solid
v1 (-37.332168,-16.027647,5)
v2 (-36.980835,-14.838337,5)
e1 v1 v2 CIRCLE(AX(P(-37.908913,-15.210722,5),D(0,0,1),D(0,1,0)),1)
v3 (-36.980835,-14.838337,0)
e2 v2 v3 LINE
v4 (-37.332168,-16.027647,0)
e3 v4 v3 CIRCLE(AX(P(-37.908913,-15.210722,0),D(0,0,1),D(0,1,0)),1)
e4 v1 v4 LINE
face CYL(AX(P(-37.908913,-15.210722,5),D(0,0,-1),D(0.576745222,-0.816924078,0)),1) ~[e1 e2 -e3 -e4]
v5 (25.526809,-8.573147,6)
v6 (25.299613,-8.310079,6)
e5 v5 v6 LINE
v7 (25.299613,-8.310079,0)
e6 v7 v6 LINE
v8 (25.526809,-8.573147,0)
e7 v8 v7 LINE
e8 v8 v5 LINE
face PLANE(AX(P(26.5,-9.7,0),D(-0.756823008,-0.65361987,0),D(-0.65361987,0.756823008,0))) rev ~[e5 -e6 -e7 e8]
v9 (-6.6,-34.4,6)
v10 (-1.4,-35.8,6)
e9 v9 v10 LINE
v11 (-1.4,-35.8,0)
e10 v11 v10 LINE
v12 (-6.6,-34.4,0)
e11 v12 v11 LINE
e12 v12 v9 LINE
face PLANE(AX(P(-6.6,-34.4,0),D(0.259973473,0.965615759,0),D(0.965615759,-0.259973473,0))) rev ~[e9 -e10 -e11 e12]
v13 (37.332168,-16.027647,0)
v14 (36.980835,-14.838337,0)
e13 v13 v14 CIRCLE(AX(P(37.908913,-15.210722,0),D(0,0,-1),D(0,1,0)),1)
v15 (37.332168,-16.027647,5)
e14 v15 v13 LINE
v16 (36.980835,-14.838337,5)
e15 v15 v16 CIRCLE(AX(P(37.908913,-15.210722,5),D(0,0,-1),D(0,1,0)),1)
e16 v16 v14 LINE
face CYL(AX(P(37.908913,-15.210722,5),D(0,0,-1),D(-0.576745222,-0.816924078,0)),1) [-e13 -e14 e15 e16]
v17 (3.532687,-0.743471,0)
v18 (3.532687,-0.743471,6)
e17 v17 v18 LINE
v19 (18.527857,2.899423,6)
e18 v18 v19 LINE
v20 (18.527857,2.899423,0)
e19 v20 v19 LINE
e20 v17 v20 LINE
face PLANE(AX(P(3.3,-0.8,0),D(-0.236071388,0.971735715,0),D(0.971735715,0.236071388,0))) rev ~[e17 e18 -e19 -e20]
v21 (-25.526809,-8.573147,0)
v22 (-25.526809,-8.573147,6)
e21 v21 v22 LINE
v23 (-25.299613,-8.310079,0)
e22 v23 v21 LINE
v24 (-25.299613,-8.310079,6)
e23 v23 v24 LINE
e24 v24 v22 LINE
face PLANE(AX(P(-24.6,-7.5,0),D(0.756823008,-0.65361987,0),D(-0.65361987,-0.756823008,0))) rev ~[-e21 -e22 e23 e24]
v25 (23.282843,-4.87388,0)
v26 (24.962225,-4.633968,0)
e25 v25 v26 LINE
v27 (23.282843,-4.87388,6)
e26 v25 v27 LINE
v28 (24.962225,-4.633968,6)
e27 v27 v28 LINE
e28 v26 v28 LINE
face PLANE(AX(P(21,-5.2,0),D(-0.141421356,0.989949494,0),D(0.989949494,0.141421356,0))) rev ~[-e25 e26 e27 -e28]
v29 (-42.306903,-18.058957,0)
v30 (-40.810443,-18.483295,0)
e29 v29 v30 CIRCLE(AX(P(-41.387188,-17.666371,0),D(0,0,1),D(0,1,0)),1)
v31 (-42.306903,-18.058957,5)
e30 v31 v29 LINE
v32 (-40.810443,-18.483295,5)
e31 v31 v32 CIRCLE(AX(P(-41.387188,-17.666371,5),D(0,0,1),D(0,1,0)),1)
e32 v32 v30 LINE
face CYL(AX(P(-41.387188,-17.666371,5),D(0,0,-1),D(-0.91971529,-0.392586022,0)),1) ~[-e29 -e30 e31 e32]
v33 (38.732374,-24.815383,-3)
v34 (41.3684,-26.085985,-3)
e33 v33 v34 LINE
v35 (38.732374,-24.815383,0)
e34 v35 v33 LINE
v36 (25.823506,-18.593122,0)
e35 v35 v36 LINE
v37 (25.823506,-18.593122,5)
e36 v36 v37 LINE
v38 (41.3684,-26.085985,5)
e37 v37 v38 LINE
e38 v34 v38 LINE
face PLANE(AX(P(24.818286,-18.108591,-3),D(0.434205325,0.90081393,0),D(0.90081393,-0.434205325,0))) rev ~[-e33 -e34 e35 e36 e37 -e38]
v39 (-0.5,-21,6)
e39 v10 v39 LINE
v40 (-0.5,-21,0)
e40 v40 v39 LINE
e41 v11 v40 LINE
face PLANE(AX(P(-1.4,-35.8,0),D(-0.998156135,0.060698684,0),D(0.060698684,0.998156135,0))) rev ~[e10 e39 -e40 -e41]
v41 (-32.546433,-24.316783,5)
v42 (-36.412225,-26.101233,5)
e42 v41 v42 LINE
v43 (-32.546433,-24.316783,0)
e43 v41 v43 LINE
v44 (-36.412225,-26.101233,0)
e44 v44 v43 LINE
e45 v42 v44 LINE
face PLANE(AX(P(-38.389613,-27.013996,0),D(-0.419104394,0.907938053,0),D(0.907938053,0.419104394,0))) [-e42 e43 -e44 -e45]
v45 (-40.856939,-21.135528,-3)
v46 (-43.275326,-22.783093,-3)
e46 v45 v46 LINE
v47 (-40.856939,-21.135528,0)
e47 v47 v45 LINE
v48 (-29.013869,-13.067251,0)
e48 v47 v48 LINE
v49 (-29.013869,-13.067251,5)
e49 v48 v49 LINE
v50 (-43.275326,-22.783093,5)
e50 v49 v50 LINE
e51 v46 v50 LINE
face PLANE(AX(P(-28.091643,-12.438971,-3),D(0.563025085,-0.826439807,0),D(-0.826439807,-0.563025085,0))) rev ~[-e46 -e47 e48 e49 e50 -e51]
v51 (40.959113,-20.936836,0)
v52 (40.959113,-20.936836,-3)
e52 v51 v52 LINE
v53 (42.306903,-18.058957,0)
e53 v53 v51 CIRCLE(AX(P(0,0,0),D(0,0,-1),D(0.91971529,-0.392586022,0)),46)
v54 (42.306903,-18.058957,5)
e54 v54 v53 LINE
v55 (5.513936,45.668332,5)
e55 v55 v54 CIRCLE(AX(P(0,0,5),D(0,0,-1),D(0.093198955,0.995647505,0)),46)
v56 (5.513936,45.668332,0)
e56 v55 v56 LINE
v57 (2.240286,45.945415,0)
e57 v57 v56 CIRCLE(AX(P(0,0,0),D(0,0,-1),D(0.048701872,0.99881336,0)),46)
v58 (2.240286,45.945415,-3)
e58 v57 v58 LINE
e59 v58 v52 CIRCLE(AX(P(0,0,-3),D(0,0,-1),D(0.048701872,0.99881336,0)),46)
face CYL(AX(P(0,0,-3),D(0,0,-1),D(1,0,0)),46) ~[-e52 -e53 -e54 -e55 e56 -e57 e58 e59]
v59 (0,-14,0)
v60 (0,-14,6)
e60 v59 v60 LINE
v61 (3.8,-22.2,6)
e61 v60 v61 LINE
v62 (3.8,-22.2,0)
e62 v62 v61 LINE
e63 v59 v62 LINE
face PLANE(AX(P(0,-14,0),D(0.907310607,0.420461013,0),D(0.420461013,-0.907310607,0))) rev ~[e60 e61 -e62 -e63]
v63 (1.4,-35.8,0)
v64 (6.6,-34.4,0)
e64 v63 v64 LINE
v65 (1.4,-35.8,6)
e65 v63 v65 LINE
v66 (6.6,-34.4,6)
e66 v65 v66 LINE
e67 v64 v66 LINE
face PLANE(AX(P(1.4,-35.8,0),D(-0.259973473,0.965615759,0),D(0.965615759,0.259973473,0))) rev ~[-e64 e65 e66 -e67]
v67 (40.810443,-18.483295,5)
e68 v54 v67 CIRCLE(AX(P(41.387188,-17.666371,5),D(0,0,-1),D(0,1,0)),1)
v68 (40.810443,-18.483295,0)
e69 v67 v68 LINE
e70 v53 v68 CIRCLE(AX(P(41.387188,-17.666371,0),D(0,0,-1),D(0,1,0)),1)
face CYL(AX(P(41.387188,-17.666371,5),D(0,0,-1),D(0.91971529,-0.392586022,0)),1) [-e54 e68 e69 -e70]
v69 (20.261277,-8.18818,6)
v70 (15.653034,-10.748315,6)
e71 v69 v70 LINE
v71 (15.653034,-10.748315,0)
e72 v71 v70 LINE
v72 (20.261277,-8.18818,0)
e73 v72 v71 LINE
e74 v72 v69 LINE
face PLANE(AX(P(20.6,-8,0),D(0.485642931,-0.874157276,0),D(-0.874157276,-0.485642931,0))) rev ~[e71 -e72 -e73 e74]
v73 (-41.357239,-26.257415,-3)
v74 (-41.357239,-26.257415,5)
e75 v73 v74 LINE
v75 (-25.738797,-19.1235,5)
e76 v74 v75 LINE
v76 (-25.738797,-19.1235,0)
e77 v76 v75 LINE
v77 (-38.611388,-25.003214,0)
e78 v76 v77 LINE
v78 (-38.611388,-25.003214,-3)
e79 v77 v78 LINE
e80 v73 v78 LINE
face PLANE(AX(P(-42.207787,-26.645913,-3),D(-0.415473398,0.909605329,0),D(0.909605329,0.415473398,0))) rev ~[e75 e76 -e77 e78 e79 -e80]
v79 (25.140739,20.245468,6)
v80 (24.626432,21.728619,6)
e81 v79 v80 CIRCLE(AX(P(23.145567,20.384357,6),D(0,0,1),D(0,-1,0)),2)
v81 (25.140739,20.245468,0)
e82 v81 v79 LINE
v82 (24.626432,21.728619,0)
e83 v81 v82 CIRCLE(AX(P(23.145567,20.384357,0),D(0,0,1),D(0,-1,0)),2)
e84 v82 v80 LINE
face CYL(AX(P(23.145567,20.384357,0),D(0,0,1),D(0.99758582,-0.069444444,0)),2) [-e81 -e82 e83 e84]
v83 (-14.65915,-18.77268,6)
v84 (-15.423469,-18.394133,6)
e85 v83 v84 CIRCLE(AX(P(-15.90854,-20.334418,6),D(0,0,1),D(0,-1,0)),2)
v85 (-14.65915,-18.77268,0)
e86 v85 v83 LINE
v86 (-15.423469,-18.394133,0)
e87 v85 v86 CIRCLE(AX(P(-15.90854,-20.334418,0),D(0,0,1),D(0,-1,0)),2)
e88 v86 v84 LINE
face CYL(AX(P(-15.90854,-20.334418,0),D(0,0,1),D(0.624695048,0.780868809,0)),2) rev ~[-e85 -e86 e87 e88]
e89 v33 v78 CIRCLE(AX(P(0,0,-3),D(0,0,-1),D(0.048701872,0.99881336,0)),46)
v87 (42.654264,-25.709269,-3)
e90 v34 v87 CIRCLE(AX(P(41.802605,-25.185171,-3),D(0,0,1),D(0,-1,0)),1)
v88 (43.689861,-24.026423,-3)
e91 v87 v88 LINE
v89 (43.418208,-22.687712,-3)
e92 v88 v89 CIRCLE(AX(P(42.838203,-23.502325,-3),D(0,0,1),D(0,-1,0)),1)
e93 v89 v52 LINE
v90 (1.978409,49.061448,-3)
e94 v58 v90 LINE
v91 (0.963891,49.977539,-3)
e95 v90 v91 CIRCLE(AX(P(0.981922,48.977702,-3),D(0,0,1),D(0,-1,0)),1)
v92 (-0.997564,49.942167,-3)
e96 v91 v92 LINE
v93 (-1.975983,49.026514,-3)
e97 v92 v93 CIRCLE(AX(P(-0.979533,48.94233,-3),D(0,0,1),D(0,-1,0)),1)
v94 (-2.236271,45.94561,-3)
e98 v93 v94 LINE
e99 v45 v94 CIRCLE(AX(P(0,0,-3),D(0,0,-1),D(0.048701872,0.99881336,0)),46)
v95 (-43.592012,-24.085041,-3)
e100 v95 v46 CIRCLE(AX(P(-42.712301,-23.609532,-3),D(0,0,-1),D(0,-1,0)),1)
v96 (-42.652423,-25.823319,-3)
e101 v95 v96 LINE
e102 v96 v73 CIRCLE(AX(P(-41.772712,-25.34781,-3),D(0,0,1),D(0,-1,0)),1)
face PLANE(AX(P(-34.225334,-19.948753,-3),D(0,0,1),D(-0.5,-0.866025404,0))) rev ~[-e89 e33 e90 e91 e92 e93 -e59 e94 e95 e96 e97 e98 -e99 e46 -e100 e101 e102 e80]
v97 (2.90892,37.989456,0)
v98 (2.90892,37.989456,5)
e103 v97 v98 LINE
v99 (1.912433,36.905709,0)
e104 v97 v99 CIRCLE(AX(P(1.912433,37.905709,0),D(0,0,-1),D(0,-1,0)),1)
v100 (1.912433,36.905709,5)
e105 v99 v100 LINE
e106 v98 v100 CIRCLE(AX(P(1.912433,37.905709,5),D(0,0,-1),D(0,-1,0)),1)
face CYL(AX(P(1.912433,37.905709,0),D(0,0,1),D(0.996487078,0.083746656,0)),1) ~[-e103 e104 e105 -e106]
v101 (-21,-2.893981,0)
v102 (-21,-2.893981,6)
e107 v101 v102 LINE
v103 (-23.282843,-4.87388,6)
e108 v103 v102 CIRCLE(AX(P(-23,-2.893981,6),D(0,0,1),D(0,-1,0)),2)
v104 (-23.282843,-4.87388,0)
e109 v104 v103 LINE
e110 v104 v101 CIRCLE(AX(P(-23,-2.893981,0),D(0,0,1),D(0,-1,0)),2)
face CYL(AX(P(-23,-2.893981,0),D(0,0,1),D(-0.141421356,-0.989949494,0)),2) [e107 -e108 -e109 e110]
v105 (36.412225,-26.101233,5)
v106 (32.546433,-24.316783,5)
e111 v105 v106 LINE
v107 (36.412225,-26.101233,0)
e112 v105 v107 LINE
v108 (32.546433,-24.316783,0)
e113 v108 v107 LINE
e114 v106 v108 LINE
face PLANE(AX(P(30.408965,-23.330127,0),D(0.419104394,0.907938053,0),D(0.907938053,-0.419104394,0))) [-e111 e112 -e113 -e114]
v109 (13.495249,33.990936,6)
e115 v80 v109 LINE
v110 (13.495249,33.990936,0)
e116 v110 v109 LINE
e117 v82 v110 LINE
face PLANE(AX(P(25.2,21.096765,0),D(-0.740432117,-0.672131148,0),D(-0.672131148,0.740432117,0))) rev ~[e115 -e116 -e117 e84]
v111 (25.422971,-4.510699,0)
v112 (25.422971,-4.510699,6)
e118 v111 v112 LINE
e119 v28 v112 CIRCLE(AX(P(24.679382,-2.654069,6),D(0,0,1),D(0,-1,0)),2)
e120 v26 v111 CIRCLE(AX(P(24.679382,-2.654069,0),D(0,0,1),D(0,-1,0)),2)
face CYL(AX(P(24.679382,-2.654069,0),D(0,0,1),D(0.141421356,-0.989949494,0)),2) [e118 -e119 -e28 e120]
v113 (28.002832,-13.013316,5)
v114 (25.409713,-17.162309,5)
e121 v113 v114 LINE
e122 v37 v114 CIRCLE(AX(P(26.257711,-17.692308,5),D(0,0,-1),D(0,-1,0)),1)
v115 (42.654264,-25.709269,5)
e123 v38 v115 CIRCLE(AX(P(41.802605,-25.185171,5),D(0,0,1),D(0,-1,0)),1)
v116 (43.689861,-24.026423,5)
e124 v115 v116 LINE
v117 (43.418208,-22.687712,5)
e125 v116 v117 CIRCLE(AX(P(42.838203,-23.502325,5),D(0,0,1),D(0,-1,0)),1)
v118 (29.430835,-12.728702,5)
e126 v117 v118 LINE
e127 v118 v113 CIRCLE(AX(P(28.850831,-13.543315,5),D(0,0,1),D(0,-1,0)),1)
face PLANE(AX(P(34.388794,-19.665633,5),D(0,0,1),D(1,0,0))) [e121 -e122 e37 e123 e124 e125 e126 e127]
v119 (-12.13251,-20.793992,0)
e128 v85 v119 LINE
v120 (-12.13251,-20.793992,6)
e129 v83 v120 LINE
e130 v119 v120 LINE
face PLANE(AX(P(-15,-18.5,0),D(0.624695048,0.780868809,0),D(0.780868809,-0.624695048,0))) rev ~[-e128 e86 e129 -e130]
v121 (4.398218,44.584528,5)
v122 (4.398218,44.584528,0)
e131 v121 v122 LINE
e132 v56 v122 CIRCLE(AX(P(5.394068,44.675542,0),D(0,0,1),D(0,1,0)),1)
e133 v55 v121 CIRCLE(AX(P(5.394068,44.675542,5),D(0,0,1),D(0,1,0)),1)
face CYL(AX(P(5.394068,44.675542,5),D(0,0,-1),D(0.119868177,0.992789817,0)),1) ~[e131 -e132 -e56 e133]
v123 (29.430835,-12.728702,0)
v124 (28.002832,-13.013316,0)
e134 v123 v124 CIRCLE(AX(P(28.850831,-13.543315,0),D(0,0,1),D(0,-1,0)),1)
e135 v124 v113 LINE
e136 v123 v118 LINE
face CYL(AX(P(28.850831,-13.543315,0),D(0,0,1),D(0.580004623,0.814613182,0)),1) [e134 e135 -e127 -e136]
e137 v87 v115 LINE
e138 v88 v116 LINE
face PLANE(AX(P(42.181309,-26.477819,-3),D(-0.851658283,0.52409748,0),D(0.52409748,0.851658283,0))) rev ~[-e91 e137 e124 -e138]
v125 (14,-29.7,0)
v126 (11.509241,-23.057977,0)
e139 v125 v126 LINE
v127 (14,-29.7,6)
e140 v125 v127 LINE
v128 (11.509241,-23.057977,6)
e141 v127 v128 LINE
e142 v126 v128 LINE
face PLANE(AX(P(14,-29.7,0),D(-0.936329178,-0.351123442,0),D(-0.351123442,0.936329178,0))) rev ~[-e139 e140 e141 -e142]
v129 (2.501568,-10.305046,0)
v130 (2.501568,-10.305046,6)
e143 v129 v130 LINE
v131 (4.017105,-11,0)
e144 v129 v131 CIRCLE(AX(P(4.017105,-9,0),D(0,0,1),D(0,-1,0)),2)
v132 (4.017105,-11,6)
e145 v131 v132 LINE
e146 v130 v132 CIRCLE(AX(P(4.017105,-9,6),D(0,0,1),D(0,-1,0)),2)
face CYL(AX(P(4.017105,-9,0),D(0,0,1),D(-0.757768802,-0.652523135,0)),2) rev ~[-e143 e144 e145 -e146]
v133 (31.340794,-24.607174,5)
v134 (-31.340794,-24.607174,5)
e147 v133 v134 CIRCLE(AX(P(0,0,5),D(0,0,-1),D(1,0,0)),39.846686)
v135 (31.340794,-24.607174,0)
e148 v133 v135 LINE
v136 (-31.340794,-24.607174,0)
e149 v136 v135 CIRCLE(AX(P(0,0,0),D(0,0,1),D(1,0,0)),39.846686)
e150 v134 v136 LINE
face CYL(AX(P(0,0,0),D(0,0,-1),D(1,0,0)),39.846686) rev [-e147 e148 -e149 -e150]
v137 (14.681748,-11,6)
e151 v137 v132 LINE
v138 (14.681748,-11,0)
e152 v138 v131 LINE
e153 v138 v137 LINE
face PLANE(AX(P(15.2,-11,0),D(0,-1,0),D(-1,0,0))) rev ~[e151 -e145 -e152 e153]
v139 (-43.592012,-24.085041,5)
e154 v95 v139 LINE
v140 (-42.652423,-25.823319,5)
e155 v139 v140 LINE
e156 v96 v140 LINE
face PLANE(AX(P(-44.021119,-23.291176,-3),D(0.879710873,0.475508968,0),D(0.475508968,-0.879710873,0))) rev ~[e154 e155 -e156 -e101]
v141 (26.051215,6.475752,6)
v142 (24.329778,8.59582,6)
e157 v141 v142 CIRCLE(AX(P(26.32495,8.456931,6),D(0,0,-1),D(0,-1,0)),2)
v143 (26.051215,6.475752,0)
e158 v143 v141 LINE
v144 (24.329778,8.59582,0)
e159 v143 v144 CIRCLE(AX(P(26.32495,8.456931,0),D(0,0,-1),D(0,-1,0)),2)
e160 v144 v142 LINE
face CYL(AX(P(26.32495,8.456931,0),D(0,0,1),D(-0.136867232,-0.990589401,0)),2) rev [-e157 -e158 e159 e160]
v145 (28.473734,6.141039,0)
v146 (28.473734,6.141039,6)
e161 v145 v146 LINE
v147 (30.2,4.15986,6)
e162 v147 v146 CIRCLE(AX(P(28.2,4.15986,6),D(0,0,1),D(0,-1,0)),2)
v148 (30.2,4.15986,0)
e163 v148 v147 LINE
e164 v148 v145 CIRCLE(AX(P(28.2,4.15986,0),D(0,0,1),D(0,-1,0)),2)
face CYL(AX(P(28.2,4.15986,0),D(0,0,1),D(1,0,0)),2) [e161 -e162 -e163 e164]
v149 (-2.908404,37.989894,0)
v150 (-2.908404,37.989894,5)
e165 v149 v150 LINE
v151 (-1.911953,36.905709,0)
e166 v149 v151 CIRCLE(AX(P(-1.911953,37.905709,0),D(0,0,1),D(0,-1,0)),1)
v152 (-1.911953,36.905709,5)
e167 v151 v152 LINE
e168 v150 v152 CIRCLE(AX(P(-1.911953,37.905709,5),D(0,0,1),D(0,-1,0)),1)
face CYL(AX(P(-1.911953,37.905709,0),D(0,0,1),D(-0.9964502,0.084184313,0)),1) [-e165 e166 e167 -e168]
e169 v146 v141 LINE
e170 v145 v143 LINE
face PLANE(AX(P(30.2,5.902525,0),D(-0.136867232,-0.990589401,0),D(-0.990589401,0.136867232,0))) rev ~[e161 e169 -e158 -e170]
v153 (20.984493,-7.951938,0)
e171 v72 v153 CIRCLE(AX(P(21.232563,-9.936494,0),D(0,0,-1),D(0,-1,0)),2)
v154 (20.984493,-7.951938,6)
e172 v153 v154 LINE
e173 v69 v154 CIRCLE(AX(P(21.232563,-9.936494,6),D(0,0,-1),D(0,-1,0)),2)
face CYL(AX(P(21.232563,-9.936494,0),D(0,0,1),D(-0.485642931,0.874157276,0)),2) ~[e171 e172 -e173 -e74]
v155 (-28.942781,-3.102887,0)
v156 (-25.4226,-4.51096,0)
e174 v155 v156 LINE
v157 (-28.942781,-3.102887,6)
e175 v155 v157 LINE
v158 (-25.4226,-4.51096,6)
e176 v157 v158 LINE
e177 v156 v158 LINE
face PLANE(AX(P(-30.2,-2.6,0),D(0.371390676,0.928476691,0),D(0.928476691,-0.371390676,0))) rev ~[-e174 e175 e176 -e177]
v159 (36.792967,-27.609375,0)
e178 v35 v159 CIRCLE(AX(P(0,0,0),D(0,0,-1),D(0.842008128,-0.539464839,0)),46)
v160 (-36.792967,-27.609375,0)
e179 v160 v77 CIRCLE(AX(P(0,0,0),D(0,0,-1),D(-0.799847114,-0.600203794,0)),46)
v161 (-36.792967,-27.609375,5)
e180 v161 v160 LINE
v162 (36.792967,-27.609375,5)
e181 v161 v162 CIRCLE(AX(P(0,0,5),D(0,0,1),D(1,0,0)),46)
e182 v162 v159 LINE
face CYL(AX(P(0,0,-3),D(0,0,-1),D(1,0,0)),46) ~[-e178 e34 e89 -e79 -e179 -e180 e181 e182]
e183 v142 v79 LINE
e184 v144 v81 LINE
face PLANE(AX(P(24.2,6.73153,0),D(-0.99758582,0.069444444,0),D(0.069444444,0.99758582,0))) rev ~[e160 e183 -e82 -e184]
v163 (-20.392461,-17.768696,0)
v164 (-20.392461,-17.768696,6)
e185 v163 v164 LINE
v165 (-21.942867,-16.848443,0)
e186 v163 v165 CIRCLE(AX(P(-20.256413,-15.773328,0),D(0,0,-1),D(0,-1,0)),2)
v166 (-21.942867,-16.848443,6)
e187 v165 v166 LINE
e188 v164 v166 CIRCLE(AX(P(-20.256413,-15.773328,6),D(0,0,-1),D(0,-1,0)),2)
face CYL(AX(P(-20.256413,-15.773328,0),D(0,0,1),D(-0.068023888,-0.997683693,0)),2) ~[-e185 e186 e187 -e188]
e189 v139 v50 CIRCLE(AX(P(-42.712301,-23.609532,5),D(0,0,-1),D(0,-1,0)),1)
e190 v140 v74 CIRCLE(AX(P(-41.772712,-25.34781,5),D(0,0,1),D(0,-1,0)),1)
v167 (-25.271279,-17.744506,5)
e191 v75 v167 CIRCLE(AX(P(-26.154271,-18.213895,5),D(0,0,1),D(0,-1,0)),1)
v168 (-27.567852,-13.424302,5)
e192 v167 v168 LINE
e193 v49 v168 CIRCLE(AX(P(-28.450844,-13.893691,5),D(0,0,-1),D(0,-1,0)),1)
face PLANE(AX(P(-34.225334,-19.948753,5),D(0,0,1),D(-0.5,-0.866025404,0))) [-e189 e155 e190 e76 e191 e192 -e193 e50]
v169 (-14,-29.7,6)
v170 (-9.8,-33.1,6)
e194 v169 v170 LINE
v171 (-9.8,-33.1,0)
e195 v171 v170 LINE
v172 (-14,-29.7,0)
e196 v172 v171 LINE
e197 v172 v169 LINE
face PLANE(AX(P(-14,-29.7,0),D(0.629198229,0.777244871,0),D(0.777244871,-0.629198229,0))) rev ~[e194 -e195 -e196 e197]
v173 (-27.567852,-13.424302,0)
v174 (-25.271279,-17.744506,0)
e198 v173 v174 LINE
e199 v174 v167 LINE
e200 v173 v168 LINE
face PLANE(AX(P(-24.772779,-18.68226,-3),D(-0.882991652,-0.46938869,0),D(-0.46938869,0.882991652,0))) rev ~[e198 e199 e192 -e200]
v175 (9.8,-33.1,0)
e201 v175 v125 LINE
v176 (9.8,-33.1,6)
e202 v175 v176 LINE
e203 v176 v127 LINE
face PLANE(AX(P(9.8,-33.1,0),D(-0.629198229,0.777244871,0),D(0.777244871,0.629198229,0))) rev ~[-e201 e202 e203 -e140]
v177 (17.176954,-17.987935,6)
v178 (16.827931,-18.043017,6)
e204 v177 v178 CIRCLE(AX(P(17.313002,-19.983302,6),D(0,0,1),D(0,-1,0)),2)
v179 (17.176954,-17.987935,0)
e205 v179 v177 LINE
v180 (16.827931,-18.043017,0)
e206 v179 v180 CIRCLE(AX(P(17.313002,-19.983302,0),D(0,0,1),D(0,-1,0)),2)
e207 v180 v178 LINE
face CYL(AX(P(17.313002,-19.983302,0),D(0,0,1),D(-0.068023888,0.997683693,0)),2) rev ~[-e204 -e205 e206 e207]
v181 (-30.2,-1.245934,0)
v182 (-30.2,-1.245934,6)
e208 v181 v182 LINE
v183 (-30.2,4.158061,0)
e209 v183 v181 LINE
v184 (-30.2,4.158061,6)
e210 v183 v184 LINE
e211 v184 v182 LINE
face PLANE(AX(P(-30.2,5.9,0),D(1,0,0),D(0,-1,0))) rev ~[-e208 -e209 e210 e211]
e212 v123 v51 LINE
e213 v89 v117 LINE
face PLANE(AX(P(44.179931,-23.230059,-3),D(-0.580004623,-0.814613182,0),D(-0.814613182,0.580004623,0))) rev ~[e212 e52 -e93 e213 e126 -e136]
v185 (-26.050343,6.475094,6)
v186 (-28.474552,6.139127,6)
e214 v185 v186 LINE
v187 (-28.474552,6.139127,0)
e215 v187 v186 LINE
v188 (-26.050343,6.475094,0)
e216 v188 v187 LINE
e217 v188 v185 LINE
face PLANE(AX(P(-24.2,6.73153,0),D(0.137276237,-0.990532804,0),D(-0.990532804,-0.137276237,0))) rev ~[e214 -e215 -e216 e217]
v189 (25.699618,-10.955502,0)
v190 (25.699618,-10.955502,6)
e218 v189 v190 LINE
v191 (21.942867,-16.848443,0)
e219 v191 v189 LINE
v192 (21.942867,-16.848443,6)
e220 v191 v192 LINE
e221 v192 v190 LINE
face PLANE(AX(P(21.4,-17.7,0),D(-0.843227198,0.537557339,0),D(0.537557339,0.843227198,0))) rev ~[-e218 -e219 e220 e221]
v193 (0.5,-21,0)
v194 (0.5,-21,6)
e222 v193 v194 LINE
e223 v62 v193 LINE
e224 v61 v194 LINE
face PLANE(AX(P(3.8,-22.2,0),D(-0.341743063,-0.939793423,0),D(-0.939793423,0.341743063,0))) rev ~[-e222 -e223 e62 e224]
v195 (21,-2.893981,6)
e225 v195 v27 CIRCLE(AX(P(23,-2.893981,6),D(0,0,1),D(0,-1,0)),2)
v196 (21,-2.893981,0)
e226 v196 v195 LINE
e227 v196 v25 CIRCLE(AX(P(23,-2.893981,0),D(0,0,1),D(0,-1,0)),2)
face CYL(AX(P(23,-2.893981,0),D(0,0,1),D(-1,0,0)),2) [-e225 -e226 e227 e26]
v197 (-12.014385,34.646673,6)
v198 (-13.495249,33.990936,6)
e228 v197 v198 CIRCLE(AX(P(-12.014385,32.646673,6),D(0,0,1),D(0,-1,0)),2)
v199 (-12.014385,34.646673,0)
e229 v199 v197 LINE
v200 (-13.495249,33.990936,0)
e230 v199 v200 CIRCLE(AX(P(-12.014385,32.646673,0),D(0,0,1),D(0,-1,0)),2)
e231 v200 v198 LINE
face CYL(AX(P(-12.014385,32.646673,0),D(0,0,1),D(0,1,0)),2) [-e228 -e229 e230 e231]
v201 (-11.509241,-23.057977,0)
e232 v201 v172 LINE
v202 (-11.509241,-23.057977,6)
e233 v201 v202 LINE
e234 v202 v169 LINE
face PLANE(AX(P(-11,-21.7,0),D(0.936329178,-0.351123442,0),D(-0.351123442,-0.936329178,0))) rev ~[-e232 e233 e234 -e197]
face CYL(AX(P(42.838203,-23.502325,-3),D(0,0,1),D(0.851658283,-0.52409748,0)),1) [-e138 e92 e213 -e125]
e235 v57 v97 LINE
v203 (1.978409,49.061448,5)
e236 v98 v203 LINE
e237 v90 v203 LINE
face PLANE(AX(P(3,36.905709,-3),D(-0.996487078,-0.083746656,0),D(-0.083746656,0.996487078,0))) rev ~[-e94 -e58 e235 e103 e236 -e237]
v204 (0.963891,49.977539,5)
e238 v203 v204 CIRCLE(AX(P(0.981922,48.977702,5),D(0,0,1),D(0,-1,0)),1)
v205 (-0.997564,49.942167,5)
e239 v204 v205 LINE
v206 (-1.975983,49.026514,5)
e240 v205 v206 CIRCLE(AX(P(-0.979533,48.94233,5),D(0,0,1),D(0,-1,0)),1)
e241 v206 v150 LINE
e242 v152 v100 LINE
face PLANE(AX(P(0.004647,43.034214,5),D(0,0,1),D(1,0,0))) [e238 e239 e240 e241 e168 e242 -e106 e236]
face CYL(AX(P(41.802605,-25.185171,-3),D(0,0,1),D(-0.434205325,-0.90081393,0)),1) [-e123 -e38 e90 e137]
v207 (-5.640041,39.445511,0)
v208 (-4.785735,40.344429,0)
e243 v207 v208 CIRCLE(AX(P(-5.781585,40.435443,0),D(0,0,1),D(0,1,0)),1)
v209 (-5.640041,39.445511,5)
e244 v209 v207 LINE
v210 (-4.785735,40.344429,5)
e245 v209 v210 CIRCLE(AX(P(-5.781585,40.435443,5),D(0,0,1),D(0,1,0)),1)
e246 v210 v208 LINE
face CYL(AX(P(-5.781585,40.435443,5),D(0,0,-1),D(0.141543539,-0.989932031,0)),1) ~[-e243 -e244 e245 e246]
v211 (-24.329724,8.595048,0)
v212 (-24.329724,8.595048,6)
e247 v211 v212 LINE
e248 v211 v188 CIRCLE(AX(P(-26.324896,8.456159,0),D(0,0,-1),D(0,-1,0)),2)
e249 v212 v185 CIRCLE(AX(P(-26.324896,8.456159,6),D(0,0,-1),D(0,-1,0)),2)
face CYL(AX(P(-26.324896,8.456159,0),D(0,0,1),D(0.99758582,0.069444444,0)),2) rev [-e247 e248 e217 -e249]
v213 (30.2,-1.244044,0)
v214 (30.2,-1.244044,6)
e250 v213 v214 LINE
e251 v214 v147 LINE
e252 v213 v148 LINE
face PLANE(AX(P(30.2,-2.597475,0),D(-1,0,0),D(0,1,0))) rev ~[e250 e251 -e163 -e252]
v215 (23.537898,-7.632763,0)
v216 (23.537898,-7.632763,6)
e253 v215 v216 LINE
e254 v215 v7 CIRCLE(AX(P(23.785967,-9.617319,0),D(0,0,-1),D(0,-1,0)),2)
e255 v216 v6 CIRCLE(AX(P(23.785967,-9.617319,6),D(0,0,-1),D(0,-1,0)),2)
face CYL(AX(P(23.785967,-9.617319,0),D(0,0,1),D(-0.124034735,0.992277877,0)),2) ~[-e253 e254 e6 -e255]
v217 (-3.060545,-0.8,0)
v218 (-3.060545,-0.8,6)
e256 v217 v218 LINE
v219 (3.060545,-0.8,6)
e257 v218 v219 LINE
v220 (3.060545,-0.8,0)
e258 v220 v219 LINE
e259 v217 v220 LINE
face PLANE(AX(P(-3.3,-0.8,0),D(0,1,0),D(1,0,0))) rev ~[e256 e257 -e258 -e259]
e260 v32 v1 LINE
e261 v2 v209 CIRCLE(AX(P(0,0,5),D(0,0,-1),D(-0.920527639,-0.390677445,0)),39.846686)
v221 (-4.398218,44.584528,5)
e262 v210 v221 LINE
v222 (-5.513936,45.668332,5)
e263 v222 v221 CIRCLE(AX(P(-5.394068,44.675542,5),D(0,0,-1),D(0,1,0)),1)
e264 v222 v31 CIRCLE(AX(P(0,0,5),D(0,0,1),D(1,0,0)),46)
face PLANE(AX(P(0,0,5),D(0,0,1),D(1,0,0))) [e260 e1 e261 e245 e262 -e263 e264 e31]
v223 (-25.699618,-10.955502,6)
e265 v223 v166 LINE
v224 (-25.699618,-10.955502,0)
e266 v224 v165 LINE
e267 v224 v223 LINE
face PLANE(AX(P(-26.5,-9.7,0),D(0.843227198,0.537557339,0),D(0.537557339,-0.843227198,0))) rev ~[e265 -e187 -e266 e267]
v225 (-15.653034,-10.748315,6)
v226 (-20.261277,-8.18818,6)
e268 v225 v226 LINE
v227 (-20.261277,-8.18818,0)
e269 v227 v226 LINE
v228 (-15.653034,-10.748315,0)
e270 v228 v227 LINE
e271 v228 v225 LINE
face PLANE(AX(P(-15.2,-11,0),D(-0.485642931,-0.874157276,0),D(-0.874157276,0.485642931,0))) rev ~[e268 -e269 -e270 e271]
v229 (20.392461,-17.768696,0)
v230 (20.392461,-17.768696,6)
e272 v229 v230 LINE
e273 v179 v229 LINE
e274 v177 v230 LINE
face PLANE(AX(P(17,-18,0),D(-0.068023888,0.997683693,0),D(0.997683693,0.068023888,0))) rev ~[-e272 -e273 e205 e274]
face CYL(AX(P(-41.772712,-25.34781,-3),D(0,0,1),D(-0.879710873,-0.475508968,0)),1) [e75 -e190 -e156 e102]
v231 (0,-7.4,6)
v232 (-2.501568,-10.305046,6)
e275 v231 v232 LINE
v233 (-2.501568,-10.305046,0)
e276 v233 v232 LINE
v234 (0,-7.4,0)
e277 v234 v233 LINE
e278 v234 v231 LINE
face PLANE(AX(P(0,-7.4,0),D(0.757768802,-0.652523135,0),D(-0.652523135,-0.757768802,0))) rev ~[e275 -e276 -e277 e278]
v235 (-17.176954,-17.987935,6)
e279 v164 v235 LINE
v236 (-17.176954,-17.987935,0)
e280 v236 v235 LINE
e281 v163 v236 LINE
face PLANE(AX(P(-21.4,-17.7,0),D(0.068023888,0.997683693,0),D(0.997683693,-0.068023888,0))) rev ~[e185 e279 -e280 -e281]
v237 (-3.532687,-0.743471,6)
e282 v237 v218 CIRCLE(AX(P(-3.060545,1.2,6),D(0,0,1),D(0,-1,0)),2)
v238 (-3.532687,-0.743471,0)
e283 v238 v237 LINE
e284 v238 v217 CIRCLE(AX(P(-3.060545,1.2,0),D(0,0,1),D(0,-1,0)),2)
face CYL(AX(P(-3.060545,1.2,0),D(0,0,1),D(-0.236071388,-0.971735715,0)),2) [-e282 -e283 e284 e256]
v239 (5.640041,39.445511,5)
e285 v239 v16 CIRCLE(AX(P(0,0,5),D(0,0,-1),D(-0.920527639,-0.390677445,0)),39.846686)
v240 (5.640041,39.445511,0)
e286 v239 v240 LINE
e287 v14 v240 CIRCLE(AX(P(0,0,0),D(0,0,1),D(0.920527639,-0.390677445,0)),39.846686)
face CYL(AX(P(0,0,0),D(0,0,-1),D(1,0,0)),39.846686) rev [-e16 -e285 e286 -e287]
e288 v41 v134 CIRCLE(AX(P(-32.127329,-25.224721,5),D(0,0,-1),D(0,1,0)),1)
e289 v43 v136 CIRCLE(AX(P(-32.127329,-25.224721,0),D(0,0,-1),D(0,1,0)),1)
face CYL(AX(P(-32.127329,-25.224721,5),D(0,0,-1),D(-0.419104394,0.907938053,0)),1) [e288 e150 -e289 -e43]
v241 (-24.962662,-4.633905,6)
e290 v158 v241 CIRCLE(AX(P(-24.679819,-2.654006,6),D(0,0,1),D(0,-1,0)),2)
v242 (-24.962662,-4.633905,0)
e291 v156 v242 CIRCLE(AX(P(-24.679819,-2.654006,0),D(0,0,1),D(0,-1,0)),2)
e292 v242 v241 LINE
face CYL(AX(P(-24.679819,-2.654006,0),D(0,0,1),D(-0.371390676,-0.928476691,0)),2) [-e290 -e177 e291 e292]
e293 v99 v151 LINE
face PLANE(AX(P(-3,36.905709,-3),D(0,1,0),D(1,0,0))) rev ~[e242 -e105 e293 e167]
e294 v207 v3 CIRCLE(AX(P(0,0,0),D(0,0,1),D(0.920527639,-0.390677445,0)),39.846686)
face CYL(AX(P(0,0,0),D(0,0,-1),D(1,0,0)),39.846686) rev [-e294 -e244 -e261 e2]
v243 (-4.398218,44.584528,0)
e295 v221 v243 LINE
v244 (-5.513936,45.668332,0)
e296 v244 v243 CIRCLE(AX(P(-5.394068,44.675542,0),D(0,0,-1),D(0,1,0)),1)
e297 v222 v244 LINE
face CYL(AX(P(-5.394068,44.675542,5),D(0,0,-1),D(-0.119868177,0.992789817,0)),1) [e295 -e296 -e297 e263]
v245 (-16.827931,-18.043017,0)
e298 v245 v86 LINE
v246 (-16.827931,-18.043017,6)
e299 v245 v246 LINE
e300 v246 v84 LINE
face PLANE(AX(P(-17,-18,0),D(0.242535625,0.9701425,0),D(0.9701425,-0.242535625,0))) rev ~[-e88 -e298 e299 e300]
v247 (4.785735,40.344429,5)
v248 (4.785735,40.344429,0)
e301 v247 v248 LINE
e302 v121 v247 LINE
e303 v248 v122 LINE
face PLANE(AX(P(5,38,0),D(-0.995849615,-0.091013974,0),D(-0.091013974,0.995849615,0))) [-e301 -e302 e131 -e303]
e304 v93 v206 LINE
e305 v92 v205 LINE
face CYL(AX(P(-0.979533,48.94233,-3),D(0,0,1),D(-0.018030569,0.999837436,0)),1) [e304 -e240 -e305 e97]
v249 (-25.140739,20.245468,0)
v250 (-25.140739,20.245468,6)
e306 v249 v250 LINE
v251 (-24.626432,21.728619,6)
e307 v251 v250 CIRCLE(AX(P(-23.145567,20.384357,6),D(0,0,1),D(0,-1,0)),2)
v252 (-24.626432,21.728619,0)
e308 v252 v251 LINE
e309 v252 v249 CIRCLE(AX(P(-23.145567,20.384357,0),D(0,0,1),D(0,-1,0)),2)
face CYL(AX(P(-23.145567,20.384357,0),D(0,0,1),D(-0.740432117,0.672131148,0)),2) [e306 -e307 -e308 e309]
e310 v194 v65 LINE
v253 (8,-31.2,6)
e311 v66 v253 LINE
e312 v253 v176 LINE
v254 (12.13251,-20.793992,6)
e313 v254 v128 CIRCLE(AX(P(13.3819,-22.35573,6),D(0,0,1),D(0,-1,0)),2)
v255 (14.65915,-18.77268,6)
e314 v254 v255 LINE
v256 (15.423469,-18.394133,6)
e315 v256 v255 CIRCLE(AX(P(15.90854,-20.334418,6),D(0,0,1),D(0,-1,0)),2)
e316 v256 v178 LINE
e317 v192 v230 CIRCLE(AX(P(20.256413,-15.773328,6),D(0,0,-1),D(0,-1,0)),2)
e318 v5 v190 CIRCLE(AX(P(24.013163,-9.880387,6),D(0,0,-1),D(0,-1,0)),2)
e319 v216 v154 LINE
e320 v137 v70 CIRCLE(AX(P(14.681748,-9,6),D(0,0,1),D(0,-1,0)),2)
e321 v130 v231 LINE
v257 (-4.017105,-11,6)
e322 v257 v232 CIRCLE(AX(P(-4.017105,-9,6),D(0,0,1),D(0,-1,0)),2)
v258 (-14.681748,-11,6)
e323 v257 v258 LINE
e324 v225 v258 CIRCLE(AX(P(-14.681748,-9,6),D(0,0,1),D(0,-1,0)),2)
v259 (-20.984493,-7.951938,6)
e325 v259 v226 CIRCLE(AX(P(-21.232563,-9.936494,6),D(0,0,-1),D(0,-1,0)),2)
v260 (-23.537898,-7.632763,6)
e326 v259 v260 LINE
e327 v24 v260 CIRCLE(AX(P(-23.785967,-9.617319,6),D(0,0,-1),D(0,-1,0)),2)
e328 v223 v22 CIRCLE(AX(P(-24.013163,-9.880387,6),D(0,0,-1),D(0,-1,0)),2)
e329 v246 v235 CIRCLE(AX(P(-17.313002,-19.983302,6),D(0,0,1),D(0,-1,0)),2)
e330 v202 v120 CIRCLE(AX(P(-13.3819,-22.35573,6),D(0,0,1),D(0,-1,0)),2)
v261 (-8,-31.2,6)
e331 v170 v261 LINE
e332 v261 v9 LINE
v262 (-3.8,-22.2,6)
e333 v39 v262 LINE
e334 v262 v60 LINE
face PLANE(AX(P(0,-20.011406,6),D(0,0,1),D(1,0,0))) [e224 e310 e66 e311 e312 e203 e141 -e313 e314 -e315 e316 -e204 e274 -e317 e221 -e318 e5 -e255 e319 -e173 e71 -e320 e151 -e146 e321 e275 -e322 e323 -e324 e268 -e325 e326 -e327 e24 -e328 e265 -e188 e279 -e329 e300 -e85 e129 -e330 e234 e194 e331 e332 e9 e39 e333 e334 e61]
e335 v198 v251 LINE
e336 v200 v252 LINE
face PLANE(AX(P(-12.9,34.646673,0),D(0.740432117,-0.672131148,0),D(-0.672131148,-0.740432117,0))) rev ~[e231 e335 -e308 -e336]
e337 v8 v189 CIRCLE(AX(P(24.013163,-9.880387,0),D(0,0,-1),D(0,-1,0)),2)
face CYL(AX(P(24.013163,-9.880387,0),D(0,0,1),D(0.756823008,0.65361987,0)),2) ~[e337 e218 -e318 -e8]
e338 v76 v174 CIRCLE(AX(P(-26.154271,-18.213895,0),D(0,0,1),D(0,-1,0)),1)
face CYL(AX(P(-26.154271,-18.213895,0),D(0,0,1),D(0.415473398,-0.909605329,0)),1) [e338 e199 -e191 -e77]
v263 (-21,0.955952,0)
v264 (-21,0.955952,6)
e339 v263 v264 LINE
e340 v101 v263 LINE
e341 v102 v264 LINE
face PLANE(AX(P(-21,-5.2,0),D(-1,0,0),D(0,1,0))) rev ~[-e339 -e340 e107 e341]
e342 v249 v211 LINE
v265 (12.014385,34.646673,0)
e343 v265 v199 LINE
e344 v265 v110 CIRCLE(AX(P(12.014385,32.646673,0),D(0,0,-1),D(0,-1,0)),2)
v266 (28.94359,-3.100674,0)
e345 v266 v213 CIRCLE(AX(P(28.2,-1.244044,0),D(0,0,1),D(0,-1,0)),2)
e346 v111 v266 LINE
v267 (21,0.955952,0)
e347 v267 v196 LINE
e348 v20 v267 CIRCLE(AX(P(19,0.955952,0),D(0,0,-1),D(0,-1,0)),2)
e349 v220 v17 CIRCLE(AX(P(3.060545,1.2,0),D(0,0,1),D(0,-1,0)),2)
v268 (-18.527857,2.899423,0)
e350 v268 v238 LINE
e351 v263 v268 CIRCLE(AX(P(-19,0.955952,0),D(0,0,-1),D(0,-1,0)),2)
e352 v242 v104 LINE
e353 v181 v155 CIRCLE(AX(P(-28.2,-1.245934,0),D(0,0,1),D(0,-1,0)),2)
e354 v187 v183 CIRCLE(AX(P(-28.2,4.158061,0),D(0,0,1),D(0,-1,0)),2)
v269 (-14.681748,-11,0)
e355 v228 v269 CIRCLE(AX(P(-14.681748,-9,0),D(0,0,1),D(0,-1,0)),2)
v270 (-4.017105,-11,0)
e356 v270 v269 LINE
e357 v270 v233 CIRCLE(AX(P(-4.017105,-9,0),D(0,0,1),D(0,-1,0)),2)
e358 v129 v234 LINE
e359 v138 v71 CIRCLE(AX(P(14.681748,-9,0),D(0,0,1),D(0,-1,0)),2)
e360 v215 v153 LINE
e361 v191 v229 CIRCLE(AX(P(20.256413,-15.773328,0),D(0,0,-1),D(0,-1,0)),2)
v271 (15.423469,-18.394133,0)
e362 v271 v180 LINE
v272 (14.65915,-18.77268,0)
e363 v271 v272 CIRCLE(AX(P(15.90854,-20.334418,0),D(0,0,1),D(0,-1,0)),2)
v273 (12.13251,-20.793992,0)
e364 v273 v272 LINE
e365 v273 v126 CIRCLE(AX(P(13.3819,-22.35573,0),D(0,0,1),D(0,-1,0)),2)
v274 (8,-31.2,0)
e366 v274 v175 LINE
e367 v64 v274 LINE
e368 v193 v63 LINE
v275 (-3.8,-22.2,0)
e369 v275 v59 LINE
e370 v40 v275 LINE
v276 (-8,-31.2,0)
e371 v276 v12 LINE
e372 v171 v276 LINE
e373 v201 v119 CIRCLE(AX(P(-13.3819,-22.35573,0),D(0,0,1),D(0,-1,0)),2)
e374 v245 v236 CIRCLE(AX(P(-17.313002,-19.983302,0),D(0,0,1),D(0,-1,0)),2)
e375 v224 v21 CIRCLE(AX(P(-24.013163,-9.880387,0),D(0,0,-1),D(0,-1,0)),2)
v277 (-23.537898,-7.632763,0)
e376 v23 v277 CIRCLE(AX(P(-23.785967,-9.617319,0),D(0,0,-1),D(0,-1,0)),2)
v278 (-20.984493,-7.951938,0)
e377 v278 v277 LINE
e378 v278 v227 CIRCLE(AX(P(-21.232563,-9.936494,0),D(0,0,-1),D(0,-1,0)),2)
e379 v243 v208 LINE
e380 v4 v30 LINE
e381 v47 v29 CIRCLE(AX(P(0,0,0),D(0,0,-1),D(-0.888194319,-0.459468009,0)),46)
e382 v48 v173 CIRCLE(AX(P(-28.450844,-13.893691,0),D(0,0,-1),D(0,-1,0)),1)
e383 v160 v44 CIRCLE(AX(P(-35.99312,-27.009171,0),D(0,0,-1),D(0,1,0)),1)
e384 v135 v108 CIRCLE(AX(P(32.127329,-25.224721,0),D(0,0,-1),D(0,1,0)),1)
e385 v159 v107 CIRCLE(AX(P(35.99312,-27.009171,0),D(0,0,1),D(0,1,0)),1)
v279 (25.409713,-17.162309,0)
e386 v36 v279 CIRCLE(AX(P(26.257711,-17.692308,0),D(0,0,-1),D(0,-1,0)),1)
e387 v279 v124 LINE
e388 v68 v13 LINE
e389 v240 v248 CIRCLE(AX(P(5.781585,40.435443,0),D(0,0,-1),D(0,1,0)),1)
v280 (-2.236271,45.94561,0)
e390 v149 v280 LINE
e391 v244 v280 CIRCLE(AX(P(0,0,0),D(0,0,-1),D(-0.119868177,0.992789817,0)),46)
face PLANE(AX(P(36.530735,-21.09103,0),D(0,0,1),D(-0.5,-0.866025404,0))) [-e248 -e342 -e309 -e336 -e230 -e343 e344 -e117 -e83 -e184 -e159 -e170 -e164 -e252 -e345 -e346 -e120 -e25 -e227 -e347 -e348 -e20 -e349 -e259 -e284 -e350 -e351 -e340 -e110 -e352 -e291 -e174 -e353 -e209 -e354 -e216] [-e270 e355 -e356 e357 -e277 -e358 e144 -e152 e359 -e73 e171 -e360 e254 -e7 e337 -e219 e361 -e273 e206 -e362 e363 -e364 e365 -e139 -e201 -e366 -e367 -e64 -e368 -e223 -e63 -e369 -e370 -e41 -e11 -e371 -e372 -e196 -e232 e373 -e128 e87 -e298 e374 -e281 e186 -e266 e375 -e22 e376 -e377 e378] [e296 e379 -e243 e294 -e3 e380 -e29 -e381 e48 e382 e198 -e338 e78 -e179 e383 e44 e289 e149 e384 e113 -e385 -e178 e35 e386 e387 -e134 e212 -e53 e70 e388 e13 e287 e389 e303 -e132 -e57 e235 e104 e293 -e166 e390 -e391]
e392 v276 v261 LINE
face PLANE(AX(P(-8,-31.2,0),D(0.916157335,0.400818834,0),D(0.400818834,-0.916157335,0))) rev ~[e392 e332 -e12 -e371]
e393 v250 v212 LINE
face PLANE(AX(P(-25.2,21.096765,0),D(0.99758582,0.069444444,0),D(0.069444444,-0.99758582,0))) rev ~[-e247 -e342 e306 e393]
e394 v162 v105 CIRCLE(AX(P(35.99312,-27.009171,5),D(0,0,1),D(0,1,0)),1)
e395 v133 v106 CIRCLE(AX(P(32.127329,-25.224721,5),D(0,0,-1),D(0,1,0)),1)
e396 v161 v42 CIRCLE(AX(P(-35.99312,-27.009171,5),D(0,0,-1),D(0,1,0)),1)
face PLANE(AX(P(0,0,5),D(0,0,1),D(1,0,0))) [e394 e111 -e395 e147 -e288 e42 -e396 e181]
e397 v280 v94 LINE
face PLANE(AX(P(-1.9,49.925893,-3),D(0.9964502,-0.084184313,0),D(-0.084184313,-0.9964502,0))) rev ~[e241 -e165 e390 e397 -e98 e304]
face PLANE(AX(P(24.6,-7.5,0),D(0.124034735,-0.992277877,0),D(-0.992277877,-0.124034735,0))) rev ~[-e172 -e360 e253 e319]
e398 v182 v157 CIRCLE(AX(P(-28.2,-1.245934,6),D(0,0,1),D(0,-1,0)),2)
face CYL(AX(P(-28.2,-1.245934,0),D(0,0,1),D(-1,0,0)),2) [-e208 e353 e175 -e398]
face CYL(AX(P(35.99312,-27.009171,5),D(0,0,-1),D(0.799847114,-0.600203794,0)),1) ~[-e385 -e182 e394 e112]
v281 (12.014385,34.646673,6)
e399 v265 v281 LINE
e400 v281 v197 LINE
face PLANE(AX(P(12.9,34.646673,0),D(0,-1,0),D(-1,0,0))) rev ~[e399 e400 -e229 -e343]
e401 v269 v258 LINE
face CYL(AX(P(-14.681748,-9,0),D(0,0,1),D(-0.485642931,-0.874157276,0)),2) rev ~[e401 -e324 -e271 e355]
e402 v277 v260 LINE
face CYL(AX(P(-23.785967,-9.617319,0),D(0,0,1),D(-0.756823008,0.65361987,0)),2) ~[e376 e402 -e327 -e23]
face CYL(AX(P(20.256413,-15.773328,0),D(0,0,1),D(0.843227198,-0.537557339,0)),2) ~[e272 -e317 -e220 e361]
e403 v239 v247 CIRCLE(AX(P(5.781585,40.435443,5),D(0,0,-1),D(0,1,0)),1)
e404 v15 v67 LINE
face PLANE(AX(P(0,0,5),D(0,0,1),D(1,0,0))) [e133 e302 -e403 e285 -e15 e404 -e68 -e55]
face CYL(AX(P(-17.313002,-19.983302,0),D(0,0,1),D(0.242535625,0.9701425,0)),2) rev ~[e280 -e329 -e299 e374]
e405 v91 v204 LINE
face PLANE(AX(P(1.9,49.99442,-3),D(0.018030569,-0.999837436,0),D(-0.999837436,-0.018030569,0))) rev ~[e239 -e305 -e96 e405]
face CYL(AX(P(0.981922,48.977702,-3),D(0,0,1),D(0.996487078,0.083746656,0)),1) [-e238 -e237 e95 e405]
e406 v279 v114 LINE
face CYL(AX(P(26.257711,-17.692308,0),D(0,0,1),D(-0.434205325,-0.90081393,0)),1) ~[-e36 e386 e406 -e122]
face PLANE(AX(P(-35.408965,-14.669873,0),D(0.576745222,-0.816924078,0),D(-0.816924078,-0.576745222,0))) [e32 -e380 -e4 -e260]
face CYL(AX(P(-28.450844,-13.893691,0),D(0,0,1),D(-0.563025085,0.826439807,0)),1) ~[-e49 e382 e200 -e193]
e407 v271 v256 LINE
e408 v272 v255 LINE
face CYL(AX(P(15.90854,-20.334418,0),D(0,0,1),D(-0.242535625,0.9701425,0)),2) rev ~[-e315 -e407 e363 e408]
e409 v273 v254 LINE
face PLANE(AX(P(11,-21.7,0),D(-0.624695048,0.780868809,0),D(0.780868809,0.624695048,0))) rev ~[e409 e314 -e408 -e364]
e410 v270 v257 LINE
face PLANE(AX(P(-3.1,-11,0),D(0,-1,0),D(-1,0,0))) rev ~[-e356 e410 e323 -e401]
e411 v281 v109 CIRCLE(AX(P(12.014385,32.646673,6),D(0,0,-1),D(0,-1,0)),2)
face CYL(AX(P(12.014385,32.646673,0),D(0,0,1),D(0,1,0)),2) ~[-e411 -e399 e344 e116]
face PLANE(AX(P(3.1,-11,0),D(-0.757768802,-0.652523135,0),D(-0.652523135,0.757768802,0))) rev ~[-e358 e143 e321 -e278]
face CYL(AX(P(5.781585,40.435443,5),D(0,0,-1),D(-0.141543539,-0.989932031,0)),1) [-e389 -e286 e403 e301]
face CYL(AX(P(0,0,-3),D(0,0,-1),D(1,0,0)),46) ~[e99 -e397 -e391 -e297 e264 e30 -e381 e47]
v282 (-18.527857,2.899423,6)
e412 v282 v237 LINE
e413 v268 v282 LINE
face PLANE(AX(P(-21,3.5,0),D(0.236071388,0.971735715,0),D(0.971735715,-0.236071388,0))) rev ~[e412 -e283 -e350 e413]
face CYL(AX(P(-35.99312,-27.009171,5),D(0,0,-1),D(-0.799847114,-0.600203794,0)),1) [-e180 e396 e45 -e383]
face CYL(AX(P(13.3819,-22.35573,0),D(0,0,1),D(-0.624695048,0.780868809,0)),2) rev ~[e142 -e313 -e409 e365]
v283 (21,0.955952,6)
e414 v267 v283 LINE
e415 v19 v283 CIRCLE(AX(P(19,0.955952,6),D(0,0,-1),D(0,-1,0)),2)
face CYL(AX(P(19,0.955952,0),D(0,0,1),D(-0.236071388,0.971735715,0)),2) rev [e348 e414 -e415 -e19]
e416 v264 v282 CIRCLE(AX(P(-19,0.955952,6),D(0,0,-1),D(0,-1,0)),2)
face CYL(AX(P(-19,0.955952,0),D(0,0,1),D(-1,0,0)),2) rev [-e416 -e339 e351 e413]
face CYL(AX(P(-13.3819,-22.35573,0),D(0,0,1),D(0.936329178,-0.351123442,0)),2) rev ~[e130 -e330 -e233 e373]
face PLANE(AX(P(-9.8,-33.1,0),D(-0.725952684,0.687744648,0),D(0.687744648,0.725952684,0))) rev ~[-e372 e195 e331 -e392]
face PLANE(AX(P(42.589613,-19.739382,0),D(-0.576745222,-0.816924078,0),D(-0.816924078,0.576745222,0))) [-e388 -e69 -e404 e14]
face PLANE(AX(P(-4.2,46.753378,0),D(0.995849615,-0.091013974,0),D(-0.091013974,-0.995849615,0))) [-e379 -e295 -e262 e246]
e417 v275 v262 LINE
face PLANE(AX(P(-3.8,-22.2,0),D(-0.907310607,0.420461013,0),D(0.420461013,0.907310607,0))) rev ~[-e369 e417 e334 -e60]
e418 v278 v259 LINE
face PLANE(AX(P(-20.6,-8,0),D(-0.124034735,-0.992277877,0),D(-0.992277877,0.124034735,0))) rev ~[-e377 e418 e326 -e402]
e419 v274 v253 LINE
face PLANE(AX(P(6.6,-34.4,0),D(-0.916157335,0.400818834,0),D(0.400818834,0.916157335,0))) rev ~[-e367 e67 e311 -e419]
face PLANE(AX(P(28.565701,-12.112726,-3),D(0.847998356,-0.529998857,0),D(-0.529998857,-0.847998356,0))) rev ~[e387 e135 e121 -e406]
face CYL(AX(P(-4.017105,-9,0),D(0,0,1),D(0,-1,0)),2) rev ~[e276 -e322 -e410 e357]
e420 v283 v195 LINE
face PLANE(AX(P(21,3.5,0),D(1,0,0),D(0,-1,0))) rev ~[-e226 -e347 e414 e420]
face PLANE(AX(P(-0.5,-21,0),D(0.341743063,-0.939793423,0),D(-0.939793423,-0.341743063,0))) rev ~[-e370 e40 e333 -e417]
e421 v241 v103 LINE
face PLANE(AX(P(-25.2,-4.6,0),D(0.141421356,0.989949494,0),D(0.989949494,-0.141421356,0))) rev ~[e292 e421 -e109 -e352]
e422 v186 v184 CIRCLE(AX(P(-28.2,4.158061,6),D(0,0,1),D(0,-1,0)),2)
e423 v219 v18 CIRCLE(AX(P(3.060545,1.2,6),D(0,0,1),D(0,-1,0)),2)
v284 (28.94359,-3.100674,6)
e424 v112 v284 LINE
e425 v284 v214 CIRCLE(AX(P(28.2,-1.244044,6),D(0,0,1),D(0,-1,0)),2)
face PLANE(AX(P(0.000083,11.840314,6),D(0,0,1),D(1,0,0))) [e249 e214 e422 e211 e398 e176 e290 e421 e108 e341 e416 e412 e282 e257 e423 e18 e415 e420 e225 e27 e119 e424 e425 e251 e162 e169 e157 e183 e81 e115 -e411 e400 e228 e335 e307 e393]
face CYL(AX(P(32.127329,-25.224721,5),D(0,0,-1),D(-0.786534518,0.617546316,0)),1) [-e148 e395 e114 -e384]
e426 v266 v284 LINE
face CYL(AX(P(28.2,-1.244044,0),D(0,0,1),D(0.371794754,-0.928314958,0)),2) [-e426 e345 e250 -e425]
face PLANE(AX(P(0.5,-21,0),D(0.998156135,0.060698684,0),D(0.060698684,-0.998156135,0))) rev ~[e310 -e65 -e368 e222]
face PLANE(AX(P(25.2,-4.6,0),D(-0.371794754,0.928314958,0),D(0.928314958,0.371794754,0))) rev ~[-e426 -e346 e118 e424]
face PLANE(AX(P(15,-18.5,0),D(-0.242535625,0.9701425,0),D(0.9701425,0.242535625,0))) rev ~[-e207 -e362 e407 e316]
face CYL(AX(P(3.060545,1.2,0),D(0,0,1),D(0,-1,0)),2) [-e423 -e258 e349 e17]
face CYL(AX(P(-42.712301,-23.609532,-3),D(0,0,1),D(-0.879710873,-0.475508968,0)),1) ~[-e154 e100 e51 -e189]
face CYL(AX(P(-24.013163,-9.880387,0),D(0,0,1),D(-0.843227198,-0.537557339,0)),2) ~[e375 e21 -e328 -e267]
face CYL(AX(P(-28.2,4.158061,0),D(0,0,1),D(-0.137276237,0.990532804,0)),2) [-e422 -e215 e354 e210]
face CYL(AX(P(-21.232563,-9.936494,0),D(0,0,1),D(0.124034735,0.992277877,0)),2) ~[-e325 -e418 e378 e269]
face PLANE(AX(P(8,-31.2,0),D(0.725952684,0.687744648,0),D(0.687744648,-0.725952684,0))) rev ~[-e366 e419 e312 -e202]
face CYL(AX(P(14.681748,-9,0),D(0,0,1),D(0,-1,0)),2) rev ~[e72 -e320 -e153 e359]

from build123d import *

# Parameters (mm, degrees)
F1_R      = 46
F2_DEPTH  = 8
F3_R      = 39.8466862326
F4_DEPTH  = 6
F7_DEPTH  = 25
F9_ANGLE  = 120
F10_ANGLE = 120
F13_DEPTH = 8
F15_DEPTH = 8
F16_ANGLE = 120
F18_DEPTH = 6
F20_DEPTH = 6
F21_R     = 1
F22_R     = 2
F23_R     = 2


with BuildPart() as f2:
    # F1 (on offset) → F2 (new body)
    with BuildSketch(Plane.XY.offset(-3)):
        Circle(F1_R)
    extrude(amount=F2_DEPTH)


with BuildPart() as f4:
    # F3 (on Top) → F4 (new body)
    with BuildSketch(Plane.XY):
        Circle(F3_R)
    extrude(amount=F4_DEPTH)


with BuildPart() as f2_1:
    add(f2.part)

    # F5: cut F4
    add(f4.part, mode=Mode.SUBTRACT)


with BuildPart() as f7:
    # F6 (on Top) → F7 (new body)
    with BuildSketch(Plane.XY):
        Polygon((4.2, 46.7533776755), (-4.2, 46.7533776755), (-5, 38), (5, 38), align=None)
    extrude(amount=F7_DEPTH)


with BuildPart() as f9_1:
    # F9: copy of F7
    add(f7.part.rotate(Axis((0, 0, 3.5398988872), (0, 0, -1)), F9_ANGLE))


with BuildPart() as f10_1:
    # F10: copy of F9_1
    add(f9_1.part.rotate(Axis((0, 0, 3.5398988872), (0, 0, -1)), F10_ANGLE))


with BuildPart() as f2_2:
    add(f2_1.part)

    # F11: cut F10_1, F9_1, F7
    add(f10_1.part, mode=Mode.SUBTRACT)
    add(f9_1.part, mode=Mode.SUBTRACT)
    add(f7.part, mode=Mode.SUBTRACT)



with BuildPart() as f13:
    # F12 (on offset) → F13 (new body)
    with BuildSketch(Plane.XY.offset(-3)):
        Polygon((1.9, 49.994420498), (-1.9, 49.925893195), (-3, 36.9057094163), (3, 36.9057094163), align=None)
    extrude(amount=F13_DEPTH)


with BuildPart() as f15:
    # F14 (on offset) → F15 (new body)
    with BuildSketch(Plane.XY.offset(-3)):
        Polygon((42.1813093126, -26.4778193086), (44.179931283, -23.2300590724), (28.5657010972, -12.1127264574), (24.8182862997, -18.1085914373), align=None)
    extrude(amount=F15_DEPTH)


with BuildPart() as f16_1:
    # F16: copy of F15
    add(f15.part.rotate(Axis((0, 0, 3.5398988872), (0, 0, -1)), F16_ANGLE))


with BuildPart() as f18:
    # F17 (on Top) → F18 (new body)
    with BuildSketch(Plane.XY):
        Polygon((25.2, 21.096765488), (12.9, 34.6466732368), (-12.9, 34.6466732368), (-25.2, 21.096765488), (-24.2, 6.7315296738), (-30.2, 5.9), (-30.2, -2.6), (-25.2, -4.6), (-21, -5.2), (-21, 3.5), (-3.3, -0.8), (3.3, -0.8), (21, 3.5), (21, -5.2), (25.2, -4.6), (30.2, -2.5974751513), (30.2, 5.9025248487), (24.2, 6.7315296738), align=None)
    extrude(amount=F18_DEPTH)


with BuildPart() as f2_3:
    add(f2_2.part)

    add(f13.part)  # F20 merges F13

    add(f15.part)  # F20 merges F15

    add(f16_1.part)  # F20 merges F16_1

    add(f18.part)  # F20 merges F18
    # F19 (on Top) → F20 (join)
    with BuildSketch(Plane.XY):
        Polygon((3.1, -11), (0, -7.4), (-3.1, -11), (-15.2, -11), (-20.6, -8), (-24.6, -7.5), (-26.5, -9.7), (-21.4, -17.7), (-17, -18), (-15, -18.5), (-11, -21.7), (-14, -29.7), (-9.8, -33.1), (-8, -31.2), (-6.6, -34.4), (-1.4, -35.8), (-0.5, -21), (-3.8, -22.2), (0, -14), (3.8, -22.2), (0.5, -21), (1.4, -35.8), (6.6, -34.4), (8, -31.2), (9.8, -33.1), (14, -29.7), (11, -21.7), (15, -18.5), (17, -18), (21.4, -17.7), (26.5, -9.7), (24.6, -7.5), (20.6, -8), (15.2, -11), align=None)
    extrude(amount=F20_DEPTH)

    # F21
    f21_edges = [f2_3.edges().sort_by_distance(p)[0] for p in [
        (1.9, 49.99442, 1),
        (-1.9, 49.925893, 1),
        (3, 36.905709, 2.5),
        (-3, 36.905709, 2.5),
        (-28.091643, -12.438971, 2.5),
        (-44.021119, -23.291176, 1),
        (-42.207787, -26.645913, 1),
        (-24.772779, -18.68226, 2.5),
        (24.818286, -18.108591, 2.5),
        (28.565701, -12.112726, 2.5),
        (42.181309, -26.477819, 1),
        (44.179931, -23.230059, 1),
        (37.520202, -26.612675, 2.5),
        (41.807353, -19.18711, 2.5),
        (36.679976, -15.567202, 2.5),
        (31.82158, -23.98219, 2.5),
        (4.287152, 45.799785, 2.5),
        (-4.287152, 45.799785, 2.5),
        (-4.858396, 39.549392, 2.5),
        (4.858396, 39.549392, 2.5),
        (-41.807353, -19.18711, 2.5),
        (-37.520202, -26.612675, 2.5),
        (-36.679976, -15.567202, 2.5),
        (-31.82158, -23.98219, 2.5),
    ]]
    fillet(f21_edges, radius=F21_R)

    # F22
    f22_edges = [f2_3.edges().sort_by_distance(p)[0] for p in [
        (30.2, 5.902525, 3),
        (30.2, -2.597475, 3),
        (24.2, 6.73153, 3),
        (25.2, 21.096765, 3),
        (12.9, 34.646673, 3),
        (-12.9, 34.646673, 3),
        (-25.2, 21.096765, 3),
        (-24.2, 6.73153, 3),
        (-30.2, 5.9, 3),
        (-30.2, -2.6, 3),
        (-25.2, -4.6, 3),
        (-21, -5.2, 3),
        (-21, 3.5, 3),
        (-3.3, -0.8, 3),
        (3.3, -0.8, 3),
        (21, 3.5, 3),
        (21, -5.2, 3),
        (25.2, -4.6, 3),
    ]]
    fillet(f22_edges, radius=F22_R)

    # F23
    f23_edges = [f2_3.edges().sort_by_distance(p)[0] for p in [
        (26.5, -9.7, 3),
        (21.4, -17.7, 3),
        (17, -18, 3),
        (15, -18.5, 3),
        (11, -21.7, 3),
        (-11, -21.7, 3),
        (-15, -18.5, 3),
        (-17, -18, 3),
        (-21.4, -17.7, 3),
        (-26.5, -9.7, 3),
        (-24.6, -7.5, 3),
        (-20.6, -8, 3),
        (-15.2, -11, 3),
        (-3.1, -11, 3),
        (3.1, -11, 3),
        (15.2, -11, 3),
        (20.6, -8, 3),
        (24.6, -7.5, 3),
    ]]
    fillet(f23_edges, radius=F23_R)


with BuildPart() as f24_1:
    # F24: copy of F2
    add(f2_3.part)


solid = f2_3.part
